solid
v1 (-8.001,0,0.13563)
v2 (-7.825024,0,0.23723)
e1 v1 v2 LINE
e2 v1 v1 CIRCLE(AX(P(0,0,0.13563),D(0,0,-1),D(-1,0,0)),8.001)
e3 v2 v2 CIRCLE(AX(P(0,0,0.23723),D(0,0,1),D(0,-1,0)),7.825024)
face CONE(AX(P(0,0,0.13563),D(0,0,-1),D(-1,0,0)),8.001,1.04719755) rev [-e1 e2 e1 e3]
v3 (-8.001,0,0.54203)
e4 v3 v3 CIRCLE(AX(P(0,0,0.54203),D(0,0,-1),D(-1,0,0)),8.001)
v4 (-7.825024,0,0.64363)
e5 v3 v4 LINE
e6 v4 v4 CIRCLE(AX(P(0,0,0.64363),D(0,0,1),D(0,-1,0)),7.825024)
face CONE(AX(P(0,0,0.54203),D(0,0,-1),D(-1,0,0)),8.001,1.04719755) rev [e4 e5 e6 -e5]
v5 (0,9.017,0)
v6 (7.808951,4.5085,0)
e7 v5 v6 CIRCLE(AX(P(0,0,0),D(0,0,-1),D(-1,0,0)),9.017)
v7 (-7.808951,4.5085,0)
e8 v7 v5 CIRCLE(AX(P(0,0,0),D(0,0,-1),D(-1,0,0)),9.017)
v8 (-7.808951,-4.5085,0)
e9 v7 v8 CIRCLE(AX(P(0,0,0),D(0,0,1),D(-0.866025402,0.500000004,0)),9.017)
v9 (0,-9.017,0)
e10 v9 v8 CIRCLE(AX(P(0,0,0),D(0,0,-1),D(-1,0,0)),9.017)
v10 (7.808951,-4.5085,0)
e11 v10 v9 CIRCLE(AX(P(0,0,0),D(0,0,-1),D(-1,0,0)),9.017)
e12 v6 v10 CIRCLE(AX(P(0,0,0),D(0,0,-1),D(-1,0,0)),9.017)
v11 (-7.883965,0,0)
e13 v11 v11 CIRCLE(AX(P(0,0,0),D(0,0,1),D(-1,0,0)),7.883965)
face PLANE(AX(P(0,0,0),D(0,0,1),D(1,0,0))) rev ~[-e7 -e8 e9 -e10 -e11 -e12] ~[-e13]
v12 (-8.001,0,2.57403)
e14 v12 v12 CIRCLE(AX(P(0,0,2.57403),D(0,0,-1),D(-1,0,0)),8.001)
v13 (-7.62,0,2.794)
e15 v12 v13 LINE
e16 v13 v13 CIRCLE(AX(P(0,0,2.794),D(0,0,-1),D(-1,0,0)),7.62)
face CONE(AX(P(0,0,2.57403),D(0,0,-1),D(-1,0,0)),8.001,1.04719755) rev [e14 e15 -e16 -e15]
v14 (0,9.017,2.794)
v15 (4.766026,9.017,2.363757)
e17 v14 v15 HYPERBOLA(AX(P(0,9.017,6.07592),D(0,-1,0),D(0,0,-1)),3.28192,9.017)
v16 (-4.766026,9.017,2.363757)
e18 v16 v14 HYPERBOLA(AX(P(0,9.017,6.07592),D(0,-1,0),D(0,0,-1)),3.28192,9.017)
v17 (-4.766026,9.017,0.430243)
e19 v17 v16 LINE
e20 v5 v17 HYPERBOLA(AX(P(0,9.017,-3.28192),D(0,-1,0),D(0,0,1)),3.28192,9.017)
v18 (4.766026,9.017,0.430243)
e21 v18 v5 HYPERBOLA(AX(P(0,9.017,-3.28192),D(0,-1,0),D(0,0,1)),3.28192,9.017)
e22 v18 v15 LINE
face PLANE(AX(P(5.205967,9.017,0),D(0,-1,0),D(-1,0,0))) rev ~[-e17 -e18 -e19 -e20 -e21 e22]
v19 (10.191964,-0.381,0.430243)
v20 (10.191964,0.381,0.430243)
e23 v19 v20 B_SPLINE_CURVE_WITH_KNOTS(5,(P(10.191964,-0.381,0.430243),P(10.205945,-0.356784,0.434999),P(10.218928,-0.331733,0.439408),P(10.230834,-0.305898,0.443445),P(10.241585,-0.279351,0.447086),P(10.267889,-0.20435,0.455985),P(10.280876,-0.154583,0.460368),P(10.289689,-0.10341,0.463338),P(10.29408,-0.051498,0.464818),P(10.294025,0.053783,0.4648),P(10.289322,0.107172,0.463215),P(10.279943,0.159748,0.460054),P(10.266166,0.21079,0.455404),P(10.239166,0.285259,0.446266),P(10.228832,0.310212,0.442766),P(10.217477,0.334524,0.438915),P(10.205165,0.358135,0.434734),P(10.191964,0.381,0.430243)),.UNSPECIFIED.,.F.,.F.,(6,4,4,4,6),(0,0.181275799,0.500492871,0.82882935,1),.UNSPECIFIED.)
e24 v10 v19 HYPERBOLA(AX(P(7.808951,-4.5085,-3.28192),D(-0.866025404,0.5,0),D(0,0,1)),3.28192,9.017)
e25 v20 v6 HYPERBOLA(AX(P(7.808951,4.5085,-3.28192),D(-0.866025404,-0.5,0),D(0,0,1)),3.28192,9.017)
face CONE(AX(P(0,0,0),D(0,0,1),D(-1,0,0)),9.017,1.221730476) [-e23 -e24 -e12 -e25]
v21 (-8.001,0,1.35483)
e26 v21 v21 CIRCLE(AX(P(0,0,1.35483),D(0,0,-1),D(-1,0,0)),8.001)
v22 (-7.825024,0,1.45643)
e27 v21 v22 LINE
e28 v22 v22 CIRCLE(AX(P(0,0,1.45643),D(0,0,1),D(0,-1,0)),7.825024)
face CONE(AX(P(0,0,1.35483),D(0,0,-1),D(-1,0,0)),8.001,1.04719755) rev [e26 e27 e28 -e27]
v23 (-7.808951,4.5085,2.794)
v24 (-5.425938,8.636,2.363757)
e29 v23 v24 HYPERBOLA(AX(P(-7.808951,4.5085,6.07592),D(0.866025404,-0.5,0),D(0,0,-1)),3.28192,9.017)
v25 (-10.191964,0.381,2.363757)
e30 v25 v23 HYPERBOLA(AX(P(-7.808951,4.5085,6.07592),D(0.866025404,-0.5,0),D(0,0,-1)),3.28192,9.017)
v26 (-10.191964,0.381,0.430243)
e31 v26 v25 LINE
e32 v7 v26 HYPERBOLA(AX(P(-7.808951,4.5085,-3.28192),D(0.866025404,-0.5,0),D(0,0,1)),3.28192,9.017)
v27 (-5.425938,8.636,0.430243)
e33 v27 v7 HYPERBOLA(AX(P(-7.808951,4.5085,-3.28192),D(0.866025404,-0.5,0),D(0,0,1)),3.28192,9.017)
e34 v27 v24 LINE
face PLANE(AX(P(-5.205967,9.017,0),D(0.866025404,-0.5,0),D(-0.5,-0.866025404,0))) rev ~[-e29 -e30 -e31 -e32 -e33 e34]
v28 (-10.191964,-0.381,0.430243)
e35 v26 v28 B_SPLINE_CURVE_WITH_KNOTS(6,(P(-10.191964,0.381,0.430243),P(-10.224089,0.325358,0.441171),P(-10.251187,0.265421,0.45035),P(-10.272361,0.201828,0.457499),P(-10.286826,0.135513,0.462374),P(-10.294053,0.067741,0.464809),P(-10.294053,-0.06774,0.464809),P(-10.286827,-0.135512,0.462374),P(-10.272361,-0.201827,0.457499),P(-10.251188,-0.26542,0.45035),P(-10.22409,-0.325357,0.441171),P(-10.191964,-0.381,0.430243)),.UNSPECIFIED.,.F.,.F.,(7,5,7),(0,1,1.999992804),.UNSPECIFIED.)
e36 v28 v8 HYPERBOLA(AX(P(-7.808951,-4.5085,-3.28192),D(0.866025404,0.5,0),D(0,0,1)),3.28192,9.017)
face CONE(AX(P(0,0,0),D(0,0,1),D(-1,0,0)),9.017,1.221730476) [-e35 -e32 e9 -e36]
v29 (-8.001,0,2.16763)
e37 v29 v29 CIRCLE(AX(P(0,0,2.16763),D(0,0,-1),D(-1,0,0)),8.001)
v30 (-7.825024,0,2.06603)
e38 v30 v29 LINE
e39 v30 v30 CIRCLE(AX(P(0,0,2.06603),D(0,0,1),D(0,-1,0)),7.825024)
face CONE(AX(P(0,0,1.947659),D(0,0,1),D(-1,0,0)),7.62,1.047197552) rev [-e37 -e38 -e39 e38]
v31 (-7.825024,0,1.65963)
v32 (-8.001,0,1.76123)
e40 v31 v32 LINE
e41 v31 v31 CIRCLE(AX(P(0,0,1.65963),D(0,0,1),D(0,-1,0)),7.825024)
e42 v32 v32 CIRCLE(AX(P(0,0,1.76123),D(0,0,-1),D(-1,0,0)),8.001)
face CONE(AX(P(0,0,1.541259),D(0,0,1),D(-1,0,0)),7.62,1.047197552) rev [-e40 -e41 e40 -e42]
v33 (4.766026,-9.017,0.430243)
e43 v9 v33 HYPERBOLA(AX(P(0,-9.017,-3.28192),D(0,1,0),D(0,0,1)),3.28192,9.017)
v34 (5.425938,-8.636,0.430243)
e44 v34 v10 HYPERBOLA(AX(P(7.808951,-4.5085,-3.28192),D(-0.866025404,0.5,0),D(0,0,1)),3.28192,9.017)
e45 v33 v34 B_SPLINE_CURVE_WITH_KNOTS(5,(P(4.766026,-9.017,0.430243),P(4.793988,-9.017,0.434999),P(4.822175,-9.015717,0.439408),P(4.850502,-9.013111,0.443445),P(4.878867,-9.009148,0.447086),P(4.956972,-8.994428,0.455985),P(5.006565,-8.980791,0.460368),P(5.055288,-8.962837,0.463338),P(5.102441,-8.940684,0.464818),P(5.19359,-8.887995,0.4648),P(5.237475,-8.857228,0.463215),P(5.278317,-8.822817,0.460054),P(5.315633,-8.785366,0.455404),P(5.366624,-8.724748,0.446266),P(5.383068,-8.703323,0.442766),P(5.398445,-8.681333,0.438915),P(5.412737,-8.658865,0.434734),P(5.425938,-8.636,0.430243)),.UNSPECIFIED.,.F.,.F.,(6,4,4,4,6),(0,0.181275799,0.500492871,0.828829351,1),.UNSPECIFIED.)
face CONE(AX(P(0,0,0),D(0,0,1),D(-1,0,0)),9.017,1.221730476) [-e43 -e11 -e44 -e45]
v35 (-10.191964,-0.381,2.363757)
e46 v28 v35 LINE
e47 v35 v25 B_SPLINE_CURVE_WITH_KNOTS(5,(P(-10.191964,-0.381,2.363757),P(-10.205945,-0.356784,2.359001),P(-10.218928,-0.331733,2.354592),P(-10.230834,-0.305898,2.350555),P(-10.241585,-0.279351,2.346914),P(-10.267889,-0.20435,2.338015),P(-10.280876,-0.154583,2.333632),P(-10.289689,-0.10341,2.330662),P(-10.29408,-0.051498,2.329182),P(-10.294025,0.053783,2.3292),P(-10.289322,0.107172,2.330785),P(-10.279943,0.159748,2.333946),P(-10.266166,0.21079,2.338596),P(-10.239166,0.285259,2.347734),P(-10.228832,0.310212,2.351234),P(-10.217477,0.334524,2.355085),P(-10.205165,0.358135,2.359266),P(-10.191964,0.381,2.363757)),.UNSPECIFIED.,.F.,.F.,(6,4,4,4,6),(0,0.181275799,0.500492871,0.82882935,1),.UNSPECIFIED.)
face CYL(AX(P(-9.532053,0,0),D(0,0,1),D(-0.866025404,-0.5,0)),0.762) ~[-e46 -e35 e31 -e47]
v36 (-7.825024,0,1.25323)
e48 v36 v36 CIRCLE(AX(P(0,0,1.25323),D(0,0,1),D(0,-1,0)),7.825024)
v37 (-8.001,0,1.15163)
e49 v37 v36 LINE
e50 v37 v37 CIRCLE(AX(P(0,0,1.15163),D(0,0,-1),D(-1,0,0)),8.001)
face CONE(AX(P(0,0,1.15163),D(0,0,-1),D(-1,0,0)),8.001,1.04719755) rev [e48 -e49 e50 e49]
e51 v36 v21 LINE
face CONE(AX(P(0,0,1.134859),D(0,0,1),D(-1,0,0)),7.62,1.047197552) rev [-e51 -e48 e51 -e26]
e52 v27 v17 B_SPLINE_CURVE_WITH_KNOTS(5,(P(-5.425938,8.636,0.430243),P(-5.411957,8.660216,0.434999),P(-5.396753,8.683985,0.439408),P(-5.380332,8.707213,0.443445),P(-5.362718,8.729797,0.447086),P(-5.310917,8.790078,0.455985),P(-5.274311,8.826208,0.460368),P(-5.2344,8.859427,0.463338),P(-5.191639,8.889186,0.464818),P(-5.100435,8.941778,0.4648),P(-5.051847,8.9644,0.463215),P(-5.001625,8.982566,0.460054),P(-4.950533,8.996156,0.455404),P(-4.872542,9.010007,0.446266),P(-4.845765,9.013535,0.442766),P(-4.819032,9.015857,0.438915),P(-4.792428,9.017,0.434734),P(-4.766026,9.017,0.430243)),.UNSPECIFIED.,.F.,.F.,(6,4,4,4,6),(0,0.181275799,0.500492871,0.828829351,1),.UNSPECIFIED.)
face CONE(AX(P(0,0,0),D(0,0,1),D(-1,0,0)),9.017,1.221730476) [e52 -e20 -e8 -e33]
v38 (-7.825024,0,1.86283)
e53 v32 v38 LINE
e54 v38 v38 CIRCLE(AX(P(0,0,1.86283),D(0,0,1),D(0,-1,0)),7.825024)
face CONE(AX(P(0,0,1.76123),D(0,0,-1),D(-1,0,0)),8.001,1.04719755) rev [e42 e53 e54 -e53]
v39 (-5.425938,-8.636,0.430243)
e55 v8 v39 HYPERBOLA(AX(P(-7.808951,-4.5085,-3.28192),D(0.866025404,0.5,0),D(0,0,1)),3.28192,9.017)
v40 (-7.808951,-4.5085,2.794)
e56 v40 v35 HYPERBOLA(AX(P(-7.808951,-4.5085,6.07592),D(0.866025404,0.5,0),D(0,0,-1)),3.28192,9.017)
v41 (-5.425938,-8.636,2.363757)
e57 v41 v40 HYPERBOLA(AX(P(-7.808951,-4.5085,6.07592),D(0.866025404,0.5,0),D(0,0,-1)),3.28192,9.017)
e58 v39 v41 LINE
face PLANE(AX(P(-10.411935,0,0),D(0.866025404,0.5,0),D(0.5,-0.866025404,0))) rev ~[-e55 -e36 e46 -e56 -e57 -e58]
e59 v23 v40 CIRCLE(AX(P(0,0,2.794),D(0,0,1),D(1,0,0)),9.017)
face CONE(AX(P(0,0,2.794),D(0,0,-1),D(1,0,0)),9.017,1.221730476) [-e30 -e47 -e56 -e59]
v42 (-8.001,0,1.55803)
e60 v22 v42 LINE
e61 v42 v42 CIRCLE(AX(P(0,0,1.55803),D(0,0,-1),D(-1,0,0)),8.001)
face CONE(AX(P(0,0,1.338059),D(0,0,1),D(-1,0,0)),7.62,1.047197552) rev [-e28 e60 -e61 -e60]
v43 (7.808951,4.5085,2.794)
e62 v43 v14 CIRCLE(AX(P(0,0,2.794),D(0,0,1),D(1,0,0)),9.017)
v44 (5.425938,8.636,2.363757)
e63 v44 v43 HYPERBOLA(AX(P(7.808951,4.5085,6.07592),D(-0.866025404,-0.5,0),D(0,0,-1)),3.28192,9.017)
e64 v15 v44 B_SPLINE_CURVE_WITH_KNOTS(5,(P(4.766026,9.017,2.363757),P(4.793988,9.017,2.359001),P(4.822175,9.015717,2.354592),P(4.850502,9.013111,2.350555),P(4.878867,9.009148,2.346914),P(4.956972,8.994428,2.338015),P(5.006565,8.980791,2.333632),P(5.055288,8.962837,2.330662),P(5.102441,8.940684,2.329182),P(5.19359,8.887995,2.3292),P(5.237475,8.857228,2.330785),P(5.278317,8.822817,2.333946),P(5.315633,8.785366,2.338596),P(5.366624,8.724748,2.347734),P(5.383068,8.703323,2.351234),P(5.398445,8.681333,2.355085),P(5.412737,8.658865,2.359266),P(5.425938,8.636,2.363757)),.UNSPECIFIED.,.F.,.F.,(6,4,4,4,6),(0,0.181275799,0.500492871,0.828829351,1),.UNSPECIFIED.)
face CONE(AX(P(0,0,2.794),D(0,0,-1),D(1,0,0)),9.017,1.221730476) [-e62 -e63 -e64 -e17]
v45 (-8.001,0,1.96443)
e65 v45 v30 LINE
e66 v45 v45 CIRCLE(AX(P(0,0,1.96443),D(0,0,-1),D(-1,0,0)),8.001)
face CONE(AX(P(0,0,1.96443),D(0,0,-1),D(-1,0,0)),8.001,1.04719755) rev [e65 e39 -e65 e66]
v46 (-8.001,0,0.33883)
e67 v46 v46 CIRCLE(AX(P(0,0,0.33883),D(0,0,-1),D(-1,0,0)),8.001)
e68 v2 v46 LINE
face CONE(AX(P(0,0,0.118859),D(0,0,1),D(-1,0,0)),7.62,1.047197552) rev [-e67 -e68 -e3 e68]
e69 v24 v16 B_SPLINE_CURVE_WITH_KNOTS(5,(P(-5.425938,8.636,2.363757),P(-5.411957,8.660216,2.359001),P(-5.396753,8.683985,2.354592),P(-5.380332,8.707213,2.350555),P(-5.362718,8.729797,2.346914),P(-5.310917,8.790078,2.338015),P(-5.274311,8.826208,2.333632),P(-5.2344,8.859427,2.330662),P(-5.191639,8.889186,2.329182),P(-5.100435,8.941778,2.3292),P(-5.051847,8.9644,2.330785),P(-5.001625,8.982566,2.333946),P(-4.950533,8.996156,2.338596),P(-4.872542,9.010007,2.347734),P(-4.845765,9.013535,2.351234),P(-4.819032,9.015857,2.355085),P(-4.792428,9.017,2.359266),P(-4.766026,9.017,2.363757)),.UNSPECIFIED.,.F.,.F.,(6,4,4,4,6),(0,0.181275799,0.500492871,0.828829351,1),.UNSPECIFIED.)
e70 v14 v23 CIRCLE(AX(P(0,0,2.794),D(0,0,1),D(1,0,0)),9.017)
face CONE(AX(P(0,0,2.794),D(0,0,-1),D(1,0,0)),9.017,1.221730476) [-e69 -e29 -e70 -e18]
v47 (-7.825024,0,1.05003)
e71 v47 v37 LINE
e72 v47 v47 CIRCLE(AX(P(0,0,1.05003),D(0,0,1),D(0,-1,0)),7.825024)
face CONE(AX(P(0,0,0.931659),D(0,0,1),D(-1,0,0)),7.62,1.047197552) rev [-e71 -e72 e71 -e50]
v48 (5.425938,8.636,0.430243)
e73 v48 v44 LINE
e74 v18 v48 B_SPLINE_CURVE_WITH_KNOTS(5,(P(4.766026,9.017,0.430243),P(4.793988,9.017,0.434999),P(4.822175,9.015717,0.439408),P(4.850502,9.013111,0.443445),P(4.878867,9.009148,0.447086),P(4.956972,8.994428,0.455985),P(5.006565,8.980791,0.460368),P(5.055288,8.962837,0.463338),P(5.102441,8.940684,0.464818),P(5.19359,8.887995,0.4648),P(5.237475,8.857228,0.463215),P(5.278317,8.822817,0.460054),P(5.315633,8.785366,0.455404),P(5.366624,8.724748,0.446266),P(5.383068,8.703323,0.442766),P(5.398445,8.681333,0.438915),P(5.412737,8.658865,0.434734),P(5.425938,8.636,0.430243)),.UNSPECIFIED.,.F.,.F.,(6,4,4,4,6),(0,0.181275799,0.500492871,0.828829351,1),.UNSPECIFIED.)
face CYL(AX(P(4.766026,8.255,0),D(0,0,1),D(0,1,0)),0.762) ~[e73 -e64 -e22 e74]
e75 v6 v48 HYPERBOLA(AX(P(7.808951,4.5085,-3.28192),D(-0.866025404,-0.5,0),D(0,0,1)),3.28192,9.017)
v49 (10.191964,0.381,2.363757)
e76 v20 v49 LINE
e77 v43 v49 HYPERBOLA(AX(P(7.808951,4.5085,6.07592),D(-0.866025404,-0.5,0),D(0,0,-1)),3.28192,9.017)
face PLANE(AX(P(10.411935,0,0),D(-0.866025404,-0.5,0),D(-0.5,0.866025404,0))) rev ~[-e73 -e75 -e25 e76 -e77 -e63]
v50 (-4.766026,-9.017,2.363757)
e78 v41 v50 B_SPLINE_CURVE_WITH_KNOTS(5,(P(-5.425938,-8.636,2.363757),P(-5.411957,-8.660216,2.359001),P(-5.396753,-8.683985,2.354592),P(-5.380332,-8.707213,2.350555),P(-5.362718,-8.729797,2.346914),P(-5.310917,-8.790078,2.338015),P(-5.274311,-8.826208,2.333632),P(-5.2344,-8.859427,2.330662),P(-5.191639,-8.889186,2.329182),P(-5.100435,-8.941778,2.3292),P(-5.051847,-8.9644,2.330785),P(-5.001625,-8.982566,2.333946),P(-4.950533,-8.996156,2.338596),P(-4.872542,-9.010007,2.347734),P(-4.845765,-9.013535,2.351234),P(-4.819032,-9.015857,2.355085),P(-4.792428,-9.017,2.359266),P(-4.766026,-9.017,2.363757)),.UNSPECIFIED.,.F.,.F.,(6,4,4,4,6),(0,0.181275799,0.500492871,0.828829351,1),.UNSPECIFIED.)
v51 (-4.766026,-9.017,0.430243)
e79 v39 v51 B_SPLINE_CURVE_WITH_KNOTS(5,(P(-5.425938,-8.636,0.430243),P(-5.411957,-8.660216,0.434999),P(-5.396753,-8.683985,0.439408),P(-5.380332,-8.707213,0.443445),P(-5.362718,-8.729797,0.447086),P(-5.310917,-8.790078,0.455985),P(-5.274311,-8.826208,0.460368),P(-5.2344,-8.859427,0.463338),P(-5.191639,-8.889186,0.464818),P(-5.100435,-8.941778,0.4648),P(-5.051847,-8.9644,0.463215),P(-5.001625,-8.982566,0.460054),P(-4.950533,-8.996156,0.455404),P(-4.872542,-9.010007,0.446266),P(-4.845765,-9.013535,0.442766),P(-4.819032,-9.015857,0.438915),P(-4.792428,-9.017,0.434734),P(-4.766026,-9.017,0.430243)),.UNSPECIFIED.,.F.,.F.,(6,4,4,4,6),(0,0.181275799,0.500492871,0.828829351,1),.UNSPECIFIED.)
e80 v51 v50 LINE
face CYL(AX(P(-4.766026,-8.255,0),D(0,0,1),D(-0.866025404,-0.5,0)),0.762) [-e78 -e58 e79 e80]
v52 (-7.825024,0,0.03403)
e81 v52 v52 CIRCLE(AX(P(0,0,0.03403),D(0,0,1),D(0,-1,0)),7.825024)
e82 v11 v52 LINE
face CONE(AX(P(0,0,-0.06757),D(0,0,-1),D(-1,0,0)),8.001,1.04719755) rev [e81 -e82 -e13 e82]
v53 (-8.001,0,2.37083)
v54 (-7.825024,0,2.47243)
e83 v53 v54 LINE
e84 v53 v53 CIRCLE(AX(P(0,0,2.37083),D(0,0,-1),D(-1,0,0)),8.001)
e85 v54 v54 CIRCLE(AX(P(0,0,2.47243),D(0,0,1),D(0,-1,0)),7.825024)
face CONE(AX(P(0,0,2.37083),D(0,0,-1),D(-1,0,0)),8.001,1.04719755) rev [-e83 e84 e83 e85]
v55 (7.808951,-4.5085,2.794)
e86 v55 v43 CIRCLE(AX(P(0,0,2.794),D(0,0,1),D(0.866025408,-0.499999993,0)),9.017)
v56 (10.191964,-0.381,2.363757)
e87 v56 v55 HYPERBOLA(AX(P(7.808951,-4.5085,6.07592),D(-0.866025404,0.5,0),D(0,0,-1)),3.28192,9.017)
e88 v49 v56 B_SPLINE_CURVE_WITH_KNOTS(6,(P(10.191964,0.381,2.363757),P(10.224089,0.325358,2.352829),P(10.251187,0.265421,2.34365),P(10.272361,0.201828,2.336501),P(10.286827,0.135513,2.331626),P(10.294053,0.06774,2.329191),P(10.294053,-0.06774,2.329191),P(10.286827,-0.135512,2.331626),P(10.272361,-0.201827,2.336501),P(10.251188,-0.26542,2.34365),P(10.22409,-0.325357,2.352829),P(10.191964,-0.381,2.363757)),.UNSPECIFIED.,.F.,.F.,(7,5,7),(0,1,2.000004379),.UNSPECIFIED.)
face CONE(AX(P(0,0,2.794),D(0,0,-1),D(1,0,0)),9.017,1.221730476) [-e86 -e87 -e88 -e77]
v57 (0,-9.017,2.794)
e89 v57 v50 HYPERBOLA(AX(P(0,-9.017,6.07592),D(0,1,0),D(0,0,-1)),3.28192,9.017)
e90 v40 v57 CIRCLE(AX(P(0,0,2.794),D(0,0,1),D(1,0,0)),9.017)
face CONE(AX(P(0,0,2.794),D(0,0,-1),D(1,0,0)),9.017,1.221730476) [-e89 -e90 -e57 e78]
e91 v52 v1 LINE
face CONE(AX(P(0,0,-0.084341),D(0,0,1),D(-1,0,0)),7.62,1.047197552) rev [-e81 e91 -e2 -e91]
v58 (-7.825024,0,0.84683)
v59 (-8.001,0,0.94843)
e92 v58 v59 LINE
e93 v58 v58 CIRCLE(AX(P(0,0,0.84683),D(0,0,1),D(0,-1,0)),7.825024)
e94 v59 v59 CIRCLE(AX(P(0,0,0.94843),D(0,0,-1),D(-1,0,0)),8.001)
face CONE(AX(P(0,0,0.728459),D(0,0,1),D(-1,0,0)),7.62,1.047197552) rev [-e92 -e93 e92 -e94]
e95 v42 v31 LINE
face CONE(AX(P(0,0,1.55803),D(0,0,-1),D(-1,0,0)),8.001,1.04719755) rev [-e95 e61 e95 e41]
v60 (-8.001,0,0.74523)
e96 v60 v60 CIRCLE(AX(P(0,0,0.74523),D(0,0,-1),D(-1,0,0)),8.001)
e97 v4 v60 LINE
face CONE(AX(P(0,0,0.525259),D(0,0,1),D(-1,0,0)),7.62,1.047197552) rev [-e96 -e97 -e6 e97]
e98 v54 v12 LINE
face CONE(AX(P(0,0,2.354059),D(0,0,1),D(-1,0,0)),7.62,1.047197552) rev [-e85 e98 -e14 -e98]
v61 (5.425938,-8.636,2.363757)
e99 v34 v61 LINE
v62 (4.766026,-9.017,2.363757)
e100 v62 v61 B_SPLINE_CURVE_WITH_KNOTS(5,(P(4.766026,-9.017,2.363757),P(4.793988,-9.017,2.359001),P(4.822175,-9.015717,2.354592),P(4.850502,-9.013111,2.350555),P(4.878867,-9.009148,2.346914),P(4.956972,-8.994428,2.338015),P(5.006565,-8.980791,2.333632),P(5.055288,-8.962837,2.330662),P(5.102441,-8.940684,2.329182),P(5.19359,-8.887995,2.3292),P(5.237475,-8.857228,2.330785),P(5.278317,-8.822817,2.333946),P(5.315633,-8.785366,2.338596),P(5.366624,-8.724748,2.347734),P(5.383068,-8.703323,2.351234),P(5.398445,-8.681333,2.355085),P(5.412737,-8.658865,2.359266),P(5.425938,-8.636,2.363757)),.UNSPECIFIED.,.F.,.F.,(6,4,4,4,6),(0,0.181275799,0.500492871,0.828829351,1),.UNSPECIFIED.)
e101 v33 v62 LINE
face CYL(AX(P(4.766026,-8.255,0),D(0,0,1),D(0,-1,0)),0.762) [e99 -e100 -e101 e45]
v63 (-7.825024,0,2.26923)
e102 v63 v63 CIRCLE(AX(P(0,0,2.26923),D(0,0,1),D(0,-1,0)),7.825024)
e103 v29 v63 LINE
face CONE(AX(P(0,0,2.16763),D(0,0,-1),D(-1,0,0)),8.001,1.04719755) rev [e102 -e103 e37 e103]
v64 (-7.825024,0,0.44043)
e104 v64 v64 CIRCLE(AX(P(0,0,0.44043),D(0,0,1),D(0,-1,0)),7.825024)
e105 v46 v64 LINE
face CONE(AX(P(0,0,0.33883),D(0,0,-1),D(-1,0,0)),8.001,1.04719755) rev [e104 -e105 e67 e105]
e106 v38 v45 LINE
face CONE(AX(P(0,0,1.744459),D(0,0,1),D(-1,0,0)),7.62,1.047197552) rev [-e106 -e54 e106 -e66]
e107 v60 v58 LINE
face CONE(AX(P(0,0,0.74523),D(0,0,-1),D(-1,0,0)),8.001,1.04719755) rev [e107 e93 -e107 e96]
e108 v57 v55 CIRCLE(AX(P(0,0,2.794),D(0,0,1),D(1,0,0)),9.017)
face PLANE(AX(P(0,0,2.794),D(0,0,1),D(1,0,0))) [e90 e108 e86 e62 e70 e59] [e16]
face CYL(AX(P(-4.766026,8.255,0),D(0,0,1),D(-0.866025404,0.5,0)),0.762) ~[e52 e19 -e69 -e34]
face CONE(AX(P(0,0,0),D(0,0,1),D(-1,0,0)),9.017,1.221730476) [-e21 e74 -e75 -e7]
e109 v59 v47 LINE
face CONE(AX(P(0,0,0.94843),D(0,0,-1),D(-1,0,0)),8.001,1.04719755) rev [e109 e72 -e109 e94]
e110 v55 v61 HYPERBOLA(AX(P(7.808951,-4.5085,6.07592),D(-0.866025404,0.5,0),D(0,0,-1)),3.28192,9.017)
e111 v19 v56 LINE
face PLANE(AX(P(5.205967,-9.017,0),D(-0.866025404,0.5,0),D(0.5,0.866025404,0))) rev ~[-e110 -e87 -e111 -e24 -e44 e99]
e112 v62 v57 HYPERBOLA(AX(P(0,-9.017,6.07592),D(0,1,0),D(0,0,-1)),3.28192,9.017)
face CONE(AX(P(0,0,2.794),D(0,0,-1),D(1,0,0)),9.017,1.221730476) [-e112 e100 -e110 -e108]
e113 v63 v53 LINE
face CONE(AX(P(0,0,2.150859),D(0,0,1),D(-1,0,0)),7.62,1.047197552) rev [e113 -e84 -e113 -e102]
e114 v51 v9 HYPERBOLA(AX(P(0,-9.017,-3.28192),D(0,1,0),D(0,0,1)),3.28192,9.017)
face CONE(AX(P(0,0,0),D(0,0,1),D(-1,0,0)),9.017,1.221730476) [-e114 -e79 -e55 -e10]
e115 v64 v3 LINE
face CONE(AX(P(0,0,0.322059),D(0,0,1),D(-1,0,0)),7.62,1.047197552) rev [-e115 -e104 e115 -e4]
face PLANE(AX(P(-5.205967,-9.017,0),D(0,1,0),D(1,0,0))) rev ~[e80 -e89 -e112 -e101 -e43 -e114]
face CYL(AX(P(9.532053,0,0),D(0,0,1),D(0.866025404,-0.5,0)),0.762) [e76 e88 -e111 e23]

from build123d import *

# Parameters (mm, degrees)
SKETCH1_R          = 7.62
EXTRUDE1_DEPTH     = 2.794
FILLET1_R          = 0.762
SKETCH2_OUTSIDE_W  = 48.938
SKETCH2_OUTSIDE_H  = 46.384
SKETCH2_OUTSIDE_R  = 9.017
CUT_EXTRUDE1_DEPTH = 3.794
CUT_EXTRUDE1_DRAFT = -70
SKETCH3_OUTSIDE_W  = 48.938
SKETCH3_OUTSIDE_H  = 46.384
SKETCH3_OUTSIDE_R  = 9.017
CUT_EXTRUDE2_DEPTH = 3.7940001
CUT_EXTRUDE2_DRAFT = -70
LPATTERN1_COUNT    = 14
LPATTERN1_PITCH    = 0.2032


with BuildPart() as part:
    # Sketch1 → Extrude1 (new body)
    with BuildSketch(Plane.XY):
        Polygon((-10.411934755, 0), (-5.205967377, -9.017), (5.205967377, -9.017), (10.411934755, 0), (5.205967377, 9.017), (-5.205967377, 9.017), align=None)
        Circle(SKETCH1_R, mode=Mode.SUBTRACT)
    extrude(amount=EXTRUDE1_DEPTH)

    # Fillet1
    fillet1_edges = [part.edges().sort_by_distance(p)[0] for p in [
        (10.411934755, 0, 1.397),
        (5.205967377, -9.017, 1.397),
        (-5.205967377, -9.017, 1.397),
        (-10.411934755, 0, 1.397),
        (-5.205967377, 9.017, 1.397),
        (5.205967377, 9.017, 1.397),
    ]]
    fillet(fillet1_edges, radius=FILLET1_R)


with BuildPart() as cut_extrude1_tool:
    # Sketch2 outside → Cut-Extrude1 (with draft: the straight prism first)
    with BuildSketch(Plane.XY.offset(2.794)):
        Rectangle(SKETCH2_OUTSIDE_W, SKETCH2_OUTSIDE_H)
        Circle(SKETCH2_OUTSIDE_R, mode=Mode.SUBTRACT)
    extrude(amount=-CUT_EXTRUDE1_DEPTH)
    # Cut-Extrude1: the draft: its side faces are tilted about the plane it starts from
    cut_extrude1_sides = [cut_extrude1_tool.faces().sort_by_distance(p)[0] for p in [
        (0, -23.192, 0.897),
        (24.469, 0, 0.897),
        (0, 23.192, 0.897),
        (-24.469, 0, 0.897),
        (-9.017, 0, 0.897),
    ]]
    draft(cut_extrude1_sides, Plane.XY.offset(2.794), CUT_EXTRUDE1_DRAFT)


with BuildPart() as part_1:
    add(part.part)

    # Cut-Extrude1: cut by cut_extrude1_tool
    add(cut_extrude1_tool.part, mode=Mode.SUBTRACT)


with BuildPart() as cut_extrude2_tool:
    # Sketch3 outside → Cut-Extrude2 (with draft: the straight prism first)
    with BuildSketch(Plane(origin=(0, 0, 0), x_dir=(-1, 0, 0), z_dir=(0, 0, -1))):
        Rectangle(SKETCH3_OUTSIDE_W, SKETCH3_OUTSIDE_H)
        Circle(SKETCH3_OUTSIDE_R, mode=Mode.SUBTRACT)
    extrude(amount=-CUT_EXTRUDE2_DEPTH)
    # Cut-Extrude2: the draft: its side faces are tilted about the plane it starts from
    cut_extrude2_sides = [cut_extrude2_tool.faces().sort_by_distance(p)[0] for p in [
        (0, -23.192, 1.89700005),
        (-24.469, 0, 1.89700005),
        (0, 23.192, 1.89700005),
        (24.469, 0, 1.89700005),
        (9.017, 0, 1.89700005),
    ]]
    draft(cut_extrude2_sides, Plane(origin=(0, 0, 0), x_dir=(-1, 0, 0), z_dir=(0, 0, -1)), CUT_EXTRUDE2_DRAFT)


with BuildPart() as part_2:
    add(part_1.part)

    # Cut-Extrude2: cut by cut_extrude2_tool
    add(cut_extrude2_tool.part, mode=Mode.SUBTRACT)

    # Sketch4 → Cut-Revolve1 (revolve, cut)
    with BuildSketch(Plane(origin=(0, 0, 0), x_dir=(1, 0, 0), z_dir=(0, 1, 0))):
        Polygon((-7.62, -2.794), (-7.62, -2.354059095), (-8.001, -2.574029547), align=None)
    cut_revolve1 = revolve(axis=Axis((0, 0, 2.794), (0, 0, -1)), mode=Mode.SUBTRACT)

    # LPattern1: Cut-Revolve1 ×14
    with Locations(*[(0, 0, -i * LPATTERN1_PITCH) for i in range(1, LPATTERN1_COUNT)]):
        add(cut_revolve1, mode=Mode.SUBTRACT)


solid = part_2.part
